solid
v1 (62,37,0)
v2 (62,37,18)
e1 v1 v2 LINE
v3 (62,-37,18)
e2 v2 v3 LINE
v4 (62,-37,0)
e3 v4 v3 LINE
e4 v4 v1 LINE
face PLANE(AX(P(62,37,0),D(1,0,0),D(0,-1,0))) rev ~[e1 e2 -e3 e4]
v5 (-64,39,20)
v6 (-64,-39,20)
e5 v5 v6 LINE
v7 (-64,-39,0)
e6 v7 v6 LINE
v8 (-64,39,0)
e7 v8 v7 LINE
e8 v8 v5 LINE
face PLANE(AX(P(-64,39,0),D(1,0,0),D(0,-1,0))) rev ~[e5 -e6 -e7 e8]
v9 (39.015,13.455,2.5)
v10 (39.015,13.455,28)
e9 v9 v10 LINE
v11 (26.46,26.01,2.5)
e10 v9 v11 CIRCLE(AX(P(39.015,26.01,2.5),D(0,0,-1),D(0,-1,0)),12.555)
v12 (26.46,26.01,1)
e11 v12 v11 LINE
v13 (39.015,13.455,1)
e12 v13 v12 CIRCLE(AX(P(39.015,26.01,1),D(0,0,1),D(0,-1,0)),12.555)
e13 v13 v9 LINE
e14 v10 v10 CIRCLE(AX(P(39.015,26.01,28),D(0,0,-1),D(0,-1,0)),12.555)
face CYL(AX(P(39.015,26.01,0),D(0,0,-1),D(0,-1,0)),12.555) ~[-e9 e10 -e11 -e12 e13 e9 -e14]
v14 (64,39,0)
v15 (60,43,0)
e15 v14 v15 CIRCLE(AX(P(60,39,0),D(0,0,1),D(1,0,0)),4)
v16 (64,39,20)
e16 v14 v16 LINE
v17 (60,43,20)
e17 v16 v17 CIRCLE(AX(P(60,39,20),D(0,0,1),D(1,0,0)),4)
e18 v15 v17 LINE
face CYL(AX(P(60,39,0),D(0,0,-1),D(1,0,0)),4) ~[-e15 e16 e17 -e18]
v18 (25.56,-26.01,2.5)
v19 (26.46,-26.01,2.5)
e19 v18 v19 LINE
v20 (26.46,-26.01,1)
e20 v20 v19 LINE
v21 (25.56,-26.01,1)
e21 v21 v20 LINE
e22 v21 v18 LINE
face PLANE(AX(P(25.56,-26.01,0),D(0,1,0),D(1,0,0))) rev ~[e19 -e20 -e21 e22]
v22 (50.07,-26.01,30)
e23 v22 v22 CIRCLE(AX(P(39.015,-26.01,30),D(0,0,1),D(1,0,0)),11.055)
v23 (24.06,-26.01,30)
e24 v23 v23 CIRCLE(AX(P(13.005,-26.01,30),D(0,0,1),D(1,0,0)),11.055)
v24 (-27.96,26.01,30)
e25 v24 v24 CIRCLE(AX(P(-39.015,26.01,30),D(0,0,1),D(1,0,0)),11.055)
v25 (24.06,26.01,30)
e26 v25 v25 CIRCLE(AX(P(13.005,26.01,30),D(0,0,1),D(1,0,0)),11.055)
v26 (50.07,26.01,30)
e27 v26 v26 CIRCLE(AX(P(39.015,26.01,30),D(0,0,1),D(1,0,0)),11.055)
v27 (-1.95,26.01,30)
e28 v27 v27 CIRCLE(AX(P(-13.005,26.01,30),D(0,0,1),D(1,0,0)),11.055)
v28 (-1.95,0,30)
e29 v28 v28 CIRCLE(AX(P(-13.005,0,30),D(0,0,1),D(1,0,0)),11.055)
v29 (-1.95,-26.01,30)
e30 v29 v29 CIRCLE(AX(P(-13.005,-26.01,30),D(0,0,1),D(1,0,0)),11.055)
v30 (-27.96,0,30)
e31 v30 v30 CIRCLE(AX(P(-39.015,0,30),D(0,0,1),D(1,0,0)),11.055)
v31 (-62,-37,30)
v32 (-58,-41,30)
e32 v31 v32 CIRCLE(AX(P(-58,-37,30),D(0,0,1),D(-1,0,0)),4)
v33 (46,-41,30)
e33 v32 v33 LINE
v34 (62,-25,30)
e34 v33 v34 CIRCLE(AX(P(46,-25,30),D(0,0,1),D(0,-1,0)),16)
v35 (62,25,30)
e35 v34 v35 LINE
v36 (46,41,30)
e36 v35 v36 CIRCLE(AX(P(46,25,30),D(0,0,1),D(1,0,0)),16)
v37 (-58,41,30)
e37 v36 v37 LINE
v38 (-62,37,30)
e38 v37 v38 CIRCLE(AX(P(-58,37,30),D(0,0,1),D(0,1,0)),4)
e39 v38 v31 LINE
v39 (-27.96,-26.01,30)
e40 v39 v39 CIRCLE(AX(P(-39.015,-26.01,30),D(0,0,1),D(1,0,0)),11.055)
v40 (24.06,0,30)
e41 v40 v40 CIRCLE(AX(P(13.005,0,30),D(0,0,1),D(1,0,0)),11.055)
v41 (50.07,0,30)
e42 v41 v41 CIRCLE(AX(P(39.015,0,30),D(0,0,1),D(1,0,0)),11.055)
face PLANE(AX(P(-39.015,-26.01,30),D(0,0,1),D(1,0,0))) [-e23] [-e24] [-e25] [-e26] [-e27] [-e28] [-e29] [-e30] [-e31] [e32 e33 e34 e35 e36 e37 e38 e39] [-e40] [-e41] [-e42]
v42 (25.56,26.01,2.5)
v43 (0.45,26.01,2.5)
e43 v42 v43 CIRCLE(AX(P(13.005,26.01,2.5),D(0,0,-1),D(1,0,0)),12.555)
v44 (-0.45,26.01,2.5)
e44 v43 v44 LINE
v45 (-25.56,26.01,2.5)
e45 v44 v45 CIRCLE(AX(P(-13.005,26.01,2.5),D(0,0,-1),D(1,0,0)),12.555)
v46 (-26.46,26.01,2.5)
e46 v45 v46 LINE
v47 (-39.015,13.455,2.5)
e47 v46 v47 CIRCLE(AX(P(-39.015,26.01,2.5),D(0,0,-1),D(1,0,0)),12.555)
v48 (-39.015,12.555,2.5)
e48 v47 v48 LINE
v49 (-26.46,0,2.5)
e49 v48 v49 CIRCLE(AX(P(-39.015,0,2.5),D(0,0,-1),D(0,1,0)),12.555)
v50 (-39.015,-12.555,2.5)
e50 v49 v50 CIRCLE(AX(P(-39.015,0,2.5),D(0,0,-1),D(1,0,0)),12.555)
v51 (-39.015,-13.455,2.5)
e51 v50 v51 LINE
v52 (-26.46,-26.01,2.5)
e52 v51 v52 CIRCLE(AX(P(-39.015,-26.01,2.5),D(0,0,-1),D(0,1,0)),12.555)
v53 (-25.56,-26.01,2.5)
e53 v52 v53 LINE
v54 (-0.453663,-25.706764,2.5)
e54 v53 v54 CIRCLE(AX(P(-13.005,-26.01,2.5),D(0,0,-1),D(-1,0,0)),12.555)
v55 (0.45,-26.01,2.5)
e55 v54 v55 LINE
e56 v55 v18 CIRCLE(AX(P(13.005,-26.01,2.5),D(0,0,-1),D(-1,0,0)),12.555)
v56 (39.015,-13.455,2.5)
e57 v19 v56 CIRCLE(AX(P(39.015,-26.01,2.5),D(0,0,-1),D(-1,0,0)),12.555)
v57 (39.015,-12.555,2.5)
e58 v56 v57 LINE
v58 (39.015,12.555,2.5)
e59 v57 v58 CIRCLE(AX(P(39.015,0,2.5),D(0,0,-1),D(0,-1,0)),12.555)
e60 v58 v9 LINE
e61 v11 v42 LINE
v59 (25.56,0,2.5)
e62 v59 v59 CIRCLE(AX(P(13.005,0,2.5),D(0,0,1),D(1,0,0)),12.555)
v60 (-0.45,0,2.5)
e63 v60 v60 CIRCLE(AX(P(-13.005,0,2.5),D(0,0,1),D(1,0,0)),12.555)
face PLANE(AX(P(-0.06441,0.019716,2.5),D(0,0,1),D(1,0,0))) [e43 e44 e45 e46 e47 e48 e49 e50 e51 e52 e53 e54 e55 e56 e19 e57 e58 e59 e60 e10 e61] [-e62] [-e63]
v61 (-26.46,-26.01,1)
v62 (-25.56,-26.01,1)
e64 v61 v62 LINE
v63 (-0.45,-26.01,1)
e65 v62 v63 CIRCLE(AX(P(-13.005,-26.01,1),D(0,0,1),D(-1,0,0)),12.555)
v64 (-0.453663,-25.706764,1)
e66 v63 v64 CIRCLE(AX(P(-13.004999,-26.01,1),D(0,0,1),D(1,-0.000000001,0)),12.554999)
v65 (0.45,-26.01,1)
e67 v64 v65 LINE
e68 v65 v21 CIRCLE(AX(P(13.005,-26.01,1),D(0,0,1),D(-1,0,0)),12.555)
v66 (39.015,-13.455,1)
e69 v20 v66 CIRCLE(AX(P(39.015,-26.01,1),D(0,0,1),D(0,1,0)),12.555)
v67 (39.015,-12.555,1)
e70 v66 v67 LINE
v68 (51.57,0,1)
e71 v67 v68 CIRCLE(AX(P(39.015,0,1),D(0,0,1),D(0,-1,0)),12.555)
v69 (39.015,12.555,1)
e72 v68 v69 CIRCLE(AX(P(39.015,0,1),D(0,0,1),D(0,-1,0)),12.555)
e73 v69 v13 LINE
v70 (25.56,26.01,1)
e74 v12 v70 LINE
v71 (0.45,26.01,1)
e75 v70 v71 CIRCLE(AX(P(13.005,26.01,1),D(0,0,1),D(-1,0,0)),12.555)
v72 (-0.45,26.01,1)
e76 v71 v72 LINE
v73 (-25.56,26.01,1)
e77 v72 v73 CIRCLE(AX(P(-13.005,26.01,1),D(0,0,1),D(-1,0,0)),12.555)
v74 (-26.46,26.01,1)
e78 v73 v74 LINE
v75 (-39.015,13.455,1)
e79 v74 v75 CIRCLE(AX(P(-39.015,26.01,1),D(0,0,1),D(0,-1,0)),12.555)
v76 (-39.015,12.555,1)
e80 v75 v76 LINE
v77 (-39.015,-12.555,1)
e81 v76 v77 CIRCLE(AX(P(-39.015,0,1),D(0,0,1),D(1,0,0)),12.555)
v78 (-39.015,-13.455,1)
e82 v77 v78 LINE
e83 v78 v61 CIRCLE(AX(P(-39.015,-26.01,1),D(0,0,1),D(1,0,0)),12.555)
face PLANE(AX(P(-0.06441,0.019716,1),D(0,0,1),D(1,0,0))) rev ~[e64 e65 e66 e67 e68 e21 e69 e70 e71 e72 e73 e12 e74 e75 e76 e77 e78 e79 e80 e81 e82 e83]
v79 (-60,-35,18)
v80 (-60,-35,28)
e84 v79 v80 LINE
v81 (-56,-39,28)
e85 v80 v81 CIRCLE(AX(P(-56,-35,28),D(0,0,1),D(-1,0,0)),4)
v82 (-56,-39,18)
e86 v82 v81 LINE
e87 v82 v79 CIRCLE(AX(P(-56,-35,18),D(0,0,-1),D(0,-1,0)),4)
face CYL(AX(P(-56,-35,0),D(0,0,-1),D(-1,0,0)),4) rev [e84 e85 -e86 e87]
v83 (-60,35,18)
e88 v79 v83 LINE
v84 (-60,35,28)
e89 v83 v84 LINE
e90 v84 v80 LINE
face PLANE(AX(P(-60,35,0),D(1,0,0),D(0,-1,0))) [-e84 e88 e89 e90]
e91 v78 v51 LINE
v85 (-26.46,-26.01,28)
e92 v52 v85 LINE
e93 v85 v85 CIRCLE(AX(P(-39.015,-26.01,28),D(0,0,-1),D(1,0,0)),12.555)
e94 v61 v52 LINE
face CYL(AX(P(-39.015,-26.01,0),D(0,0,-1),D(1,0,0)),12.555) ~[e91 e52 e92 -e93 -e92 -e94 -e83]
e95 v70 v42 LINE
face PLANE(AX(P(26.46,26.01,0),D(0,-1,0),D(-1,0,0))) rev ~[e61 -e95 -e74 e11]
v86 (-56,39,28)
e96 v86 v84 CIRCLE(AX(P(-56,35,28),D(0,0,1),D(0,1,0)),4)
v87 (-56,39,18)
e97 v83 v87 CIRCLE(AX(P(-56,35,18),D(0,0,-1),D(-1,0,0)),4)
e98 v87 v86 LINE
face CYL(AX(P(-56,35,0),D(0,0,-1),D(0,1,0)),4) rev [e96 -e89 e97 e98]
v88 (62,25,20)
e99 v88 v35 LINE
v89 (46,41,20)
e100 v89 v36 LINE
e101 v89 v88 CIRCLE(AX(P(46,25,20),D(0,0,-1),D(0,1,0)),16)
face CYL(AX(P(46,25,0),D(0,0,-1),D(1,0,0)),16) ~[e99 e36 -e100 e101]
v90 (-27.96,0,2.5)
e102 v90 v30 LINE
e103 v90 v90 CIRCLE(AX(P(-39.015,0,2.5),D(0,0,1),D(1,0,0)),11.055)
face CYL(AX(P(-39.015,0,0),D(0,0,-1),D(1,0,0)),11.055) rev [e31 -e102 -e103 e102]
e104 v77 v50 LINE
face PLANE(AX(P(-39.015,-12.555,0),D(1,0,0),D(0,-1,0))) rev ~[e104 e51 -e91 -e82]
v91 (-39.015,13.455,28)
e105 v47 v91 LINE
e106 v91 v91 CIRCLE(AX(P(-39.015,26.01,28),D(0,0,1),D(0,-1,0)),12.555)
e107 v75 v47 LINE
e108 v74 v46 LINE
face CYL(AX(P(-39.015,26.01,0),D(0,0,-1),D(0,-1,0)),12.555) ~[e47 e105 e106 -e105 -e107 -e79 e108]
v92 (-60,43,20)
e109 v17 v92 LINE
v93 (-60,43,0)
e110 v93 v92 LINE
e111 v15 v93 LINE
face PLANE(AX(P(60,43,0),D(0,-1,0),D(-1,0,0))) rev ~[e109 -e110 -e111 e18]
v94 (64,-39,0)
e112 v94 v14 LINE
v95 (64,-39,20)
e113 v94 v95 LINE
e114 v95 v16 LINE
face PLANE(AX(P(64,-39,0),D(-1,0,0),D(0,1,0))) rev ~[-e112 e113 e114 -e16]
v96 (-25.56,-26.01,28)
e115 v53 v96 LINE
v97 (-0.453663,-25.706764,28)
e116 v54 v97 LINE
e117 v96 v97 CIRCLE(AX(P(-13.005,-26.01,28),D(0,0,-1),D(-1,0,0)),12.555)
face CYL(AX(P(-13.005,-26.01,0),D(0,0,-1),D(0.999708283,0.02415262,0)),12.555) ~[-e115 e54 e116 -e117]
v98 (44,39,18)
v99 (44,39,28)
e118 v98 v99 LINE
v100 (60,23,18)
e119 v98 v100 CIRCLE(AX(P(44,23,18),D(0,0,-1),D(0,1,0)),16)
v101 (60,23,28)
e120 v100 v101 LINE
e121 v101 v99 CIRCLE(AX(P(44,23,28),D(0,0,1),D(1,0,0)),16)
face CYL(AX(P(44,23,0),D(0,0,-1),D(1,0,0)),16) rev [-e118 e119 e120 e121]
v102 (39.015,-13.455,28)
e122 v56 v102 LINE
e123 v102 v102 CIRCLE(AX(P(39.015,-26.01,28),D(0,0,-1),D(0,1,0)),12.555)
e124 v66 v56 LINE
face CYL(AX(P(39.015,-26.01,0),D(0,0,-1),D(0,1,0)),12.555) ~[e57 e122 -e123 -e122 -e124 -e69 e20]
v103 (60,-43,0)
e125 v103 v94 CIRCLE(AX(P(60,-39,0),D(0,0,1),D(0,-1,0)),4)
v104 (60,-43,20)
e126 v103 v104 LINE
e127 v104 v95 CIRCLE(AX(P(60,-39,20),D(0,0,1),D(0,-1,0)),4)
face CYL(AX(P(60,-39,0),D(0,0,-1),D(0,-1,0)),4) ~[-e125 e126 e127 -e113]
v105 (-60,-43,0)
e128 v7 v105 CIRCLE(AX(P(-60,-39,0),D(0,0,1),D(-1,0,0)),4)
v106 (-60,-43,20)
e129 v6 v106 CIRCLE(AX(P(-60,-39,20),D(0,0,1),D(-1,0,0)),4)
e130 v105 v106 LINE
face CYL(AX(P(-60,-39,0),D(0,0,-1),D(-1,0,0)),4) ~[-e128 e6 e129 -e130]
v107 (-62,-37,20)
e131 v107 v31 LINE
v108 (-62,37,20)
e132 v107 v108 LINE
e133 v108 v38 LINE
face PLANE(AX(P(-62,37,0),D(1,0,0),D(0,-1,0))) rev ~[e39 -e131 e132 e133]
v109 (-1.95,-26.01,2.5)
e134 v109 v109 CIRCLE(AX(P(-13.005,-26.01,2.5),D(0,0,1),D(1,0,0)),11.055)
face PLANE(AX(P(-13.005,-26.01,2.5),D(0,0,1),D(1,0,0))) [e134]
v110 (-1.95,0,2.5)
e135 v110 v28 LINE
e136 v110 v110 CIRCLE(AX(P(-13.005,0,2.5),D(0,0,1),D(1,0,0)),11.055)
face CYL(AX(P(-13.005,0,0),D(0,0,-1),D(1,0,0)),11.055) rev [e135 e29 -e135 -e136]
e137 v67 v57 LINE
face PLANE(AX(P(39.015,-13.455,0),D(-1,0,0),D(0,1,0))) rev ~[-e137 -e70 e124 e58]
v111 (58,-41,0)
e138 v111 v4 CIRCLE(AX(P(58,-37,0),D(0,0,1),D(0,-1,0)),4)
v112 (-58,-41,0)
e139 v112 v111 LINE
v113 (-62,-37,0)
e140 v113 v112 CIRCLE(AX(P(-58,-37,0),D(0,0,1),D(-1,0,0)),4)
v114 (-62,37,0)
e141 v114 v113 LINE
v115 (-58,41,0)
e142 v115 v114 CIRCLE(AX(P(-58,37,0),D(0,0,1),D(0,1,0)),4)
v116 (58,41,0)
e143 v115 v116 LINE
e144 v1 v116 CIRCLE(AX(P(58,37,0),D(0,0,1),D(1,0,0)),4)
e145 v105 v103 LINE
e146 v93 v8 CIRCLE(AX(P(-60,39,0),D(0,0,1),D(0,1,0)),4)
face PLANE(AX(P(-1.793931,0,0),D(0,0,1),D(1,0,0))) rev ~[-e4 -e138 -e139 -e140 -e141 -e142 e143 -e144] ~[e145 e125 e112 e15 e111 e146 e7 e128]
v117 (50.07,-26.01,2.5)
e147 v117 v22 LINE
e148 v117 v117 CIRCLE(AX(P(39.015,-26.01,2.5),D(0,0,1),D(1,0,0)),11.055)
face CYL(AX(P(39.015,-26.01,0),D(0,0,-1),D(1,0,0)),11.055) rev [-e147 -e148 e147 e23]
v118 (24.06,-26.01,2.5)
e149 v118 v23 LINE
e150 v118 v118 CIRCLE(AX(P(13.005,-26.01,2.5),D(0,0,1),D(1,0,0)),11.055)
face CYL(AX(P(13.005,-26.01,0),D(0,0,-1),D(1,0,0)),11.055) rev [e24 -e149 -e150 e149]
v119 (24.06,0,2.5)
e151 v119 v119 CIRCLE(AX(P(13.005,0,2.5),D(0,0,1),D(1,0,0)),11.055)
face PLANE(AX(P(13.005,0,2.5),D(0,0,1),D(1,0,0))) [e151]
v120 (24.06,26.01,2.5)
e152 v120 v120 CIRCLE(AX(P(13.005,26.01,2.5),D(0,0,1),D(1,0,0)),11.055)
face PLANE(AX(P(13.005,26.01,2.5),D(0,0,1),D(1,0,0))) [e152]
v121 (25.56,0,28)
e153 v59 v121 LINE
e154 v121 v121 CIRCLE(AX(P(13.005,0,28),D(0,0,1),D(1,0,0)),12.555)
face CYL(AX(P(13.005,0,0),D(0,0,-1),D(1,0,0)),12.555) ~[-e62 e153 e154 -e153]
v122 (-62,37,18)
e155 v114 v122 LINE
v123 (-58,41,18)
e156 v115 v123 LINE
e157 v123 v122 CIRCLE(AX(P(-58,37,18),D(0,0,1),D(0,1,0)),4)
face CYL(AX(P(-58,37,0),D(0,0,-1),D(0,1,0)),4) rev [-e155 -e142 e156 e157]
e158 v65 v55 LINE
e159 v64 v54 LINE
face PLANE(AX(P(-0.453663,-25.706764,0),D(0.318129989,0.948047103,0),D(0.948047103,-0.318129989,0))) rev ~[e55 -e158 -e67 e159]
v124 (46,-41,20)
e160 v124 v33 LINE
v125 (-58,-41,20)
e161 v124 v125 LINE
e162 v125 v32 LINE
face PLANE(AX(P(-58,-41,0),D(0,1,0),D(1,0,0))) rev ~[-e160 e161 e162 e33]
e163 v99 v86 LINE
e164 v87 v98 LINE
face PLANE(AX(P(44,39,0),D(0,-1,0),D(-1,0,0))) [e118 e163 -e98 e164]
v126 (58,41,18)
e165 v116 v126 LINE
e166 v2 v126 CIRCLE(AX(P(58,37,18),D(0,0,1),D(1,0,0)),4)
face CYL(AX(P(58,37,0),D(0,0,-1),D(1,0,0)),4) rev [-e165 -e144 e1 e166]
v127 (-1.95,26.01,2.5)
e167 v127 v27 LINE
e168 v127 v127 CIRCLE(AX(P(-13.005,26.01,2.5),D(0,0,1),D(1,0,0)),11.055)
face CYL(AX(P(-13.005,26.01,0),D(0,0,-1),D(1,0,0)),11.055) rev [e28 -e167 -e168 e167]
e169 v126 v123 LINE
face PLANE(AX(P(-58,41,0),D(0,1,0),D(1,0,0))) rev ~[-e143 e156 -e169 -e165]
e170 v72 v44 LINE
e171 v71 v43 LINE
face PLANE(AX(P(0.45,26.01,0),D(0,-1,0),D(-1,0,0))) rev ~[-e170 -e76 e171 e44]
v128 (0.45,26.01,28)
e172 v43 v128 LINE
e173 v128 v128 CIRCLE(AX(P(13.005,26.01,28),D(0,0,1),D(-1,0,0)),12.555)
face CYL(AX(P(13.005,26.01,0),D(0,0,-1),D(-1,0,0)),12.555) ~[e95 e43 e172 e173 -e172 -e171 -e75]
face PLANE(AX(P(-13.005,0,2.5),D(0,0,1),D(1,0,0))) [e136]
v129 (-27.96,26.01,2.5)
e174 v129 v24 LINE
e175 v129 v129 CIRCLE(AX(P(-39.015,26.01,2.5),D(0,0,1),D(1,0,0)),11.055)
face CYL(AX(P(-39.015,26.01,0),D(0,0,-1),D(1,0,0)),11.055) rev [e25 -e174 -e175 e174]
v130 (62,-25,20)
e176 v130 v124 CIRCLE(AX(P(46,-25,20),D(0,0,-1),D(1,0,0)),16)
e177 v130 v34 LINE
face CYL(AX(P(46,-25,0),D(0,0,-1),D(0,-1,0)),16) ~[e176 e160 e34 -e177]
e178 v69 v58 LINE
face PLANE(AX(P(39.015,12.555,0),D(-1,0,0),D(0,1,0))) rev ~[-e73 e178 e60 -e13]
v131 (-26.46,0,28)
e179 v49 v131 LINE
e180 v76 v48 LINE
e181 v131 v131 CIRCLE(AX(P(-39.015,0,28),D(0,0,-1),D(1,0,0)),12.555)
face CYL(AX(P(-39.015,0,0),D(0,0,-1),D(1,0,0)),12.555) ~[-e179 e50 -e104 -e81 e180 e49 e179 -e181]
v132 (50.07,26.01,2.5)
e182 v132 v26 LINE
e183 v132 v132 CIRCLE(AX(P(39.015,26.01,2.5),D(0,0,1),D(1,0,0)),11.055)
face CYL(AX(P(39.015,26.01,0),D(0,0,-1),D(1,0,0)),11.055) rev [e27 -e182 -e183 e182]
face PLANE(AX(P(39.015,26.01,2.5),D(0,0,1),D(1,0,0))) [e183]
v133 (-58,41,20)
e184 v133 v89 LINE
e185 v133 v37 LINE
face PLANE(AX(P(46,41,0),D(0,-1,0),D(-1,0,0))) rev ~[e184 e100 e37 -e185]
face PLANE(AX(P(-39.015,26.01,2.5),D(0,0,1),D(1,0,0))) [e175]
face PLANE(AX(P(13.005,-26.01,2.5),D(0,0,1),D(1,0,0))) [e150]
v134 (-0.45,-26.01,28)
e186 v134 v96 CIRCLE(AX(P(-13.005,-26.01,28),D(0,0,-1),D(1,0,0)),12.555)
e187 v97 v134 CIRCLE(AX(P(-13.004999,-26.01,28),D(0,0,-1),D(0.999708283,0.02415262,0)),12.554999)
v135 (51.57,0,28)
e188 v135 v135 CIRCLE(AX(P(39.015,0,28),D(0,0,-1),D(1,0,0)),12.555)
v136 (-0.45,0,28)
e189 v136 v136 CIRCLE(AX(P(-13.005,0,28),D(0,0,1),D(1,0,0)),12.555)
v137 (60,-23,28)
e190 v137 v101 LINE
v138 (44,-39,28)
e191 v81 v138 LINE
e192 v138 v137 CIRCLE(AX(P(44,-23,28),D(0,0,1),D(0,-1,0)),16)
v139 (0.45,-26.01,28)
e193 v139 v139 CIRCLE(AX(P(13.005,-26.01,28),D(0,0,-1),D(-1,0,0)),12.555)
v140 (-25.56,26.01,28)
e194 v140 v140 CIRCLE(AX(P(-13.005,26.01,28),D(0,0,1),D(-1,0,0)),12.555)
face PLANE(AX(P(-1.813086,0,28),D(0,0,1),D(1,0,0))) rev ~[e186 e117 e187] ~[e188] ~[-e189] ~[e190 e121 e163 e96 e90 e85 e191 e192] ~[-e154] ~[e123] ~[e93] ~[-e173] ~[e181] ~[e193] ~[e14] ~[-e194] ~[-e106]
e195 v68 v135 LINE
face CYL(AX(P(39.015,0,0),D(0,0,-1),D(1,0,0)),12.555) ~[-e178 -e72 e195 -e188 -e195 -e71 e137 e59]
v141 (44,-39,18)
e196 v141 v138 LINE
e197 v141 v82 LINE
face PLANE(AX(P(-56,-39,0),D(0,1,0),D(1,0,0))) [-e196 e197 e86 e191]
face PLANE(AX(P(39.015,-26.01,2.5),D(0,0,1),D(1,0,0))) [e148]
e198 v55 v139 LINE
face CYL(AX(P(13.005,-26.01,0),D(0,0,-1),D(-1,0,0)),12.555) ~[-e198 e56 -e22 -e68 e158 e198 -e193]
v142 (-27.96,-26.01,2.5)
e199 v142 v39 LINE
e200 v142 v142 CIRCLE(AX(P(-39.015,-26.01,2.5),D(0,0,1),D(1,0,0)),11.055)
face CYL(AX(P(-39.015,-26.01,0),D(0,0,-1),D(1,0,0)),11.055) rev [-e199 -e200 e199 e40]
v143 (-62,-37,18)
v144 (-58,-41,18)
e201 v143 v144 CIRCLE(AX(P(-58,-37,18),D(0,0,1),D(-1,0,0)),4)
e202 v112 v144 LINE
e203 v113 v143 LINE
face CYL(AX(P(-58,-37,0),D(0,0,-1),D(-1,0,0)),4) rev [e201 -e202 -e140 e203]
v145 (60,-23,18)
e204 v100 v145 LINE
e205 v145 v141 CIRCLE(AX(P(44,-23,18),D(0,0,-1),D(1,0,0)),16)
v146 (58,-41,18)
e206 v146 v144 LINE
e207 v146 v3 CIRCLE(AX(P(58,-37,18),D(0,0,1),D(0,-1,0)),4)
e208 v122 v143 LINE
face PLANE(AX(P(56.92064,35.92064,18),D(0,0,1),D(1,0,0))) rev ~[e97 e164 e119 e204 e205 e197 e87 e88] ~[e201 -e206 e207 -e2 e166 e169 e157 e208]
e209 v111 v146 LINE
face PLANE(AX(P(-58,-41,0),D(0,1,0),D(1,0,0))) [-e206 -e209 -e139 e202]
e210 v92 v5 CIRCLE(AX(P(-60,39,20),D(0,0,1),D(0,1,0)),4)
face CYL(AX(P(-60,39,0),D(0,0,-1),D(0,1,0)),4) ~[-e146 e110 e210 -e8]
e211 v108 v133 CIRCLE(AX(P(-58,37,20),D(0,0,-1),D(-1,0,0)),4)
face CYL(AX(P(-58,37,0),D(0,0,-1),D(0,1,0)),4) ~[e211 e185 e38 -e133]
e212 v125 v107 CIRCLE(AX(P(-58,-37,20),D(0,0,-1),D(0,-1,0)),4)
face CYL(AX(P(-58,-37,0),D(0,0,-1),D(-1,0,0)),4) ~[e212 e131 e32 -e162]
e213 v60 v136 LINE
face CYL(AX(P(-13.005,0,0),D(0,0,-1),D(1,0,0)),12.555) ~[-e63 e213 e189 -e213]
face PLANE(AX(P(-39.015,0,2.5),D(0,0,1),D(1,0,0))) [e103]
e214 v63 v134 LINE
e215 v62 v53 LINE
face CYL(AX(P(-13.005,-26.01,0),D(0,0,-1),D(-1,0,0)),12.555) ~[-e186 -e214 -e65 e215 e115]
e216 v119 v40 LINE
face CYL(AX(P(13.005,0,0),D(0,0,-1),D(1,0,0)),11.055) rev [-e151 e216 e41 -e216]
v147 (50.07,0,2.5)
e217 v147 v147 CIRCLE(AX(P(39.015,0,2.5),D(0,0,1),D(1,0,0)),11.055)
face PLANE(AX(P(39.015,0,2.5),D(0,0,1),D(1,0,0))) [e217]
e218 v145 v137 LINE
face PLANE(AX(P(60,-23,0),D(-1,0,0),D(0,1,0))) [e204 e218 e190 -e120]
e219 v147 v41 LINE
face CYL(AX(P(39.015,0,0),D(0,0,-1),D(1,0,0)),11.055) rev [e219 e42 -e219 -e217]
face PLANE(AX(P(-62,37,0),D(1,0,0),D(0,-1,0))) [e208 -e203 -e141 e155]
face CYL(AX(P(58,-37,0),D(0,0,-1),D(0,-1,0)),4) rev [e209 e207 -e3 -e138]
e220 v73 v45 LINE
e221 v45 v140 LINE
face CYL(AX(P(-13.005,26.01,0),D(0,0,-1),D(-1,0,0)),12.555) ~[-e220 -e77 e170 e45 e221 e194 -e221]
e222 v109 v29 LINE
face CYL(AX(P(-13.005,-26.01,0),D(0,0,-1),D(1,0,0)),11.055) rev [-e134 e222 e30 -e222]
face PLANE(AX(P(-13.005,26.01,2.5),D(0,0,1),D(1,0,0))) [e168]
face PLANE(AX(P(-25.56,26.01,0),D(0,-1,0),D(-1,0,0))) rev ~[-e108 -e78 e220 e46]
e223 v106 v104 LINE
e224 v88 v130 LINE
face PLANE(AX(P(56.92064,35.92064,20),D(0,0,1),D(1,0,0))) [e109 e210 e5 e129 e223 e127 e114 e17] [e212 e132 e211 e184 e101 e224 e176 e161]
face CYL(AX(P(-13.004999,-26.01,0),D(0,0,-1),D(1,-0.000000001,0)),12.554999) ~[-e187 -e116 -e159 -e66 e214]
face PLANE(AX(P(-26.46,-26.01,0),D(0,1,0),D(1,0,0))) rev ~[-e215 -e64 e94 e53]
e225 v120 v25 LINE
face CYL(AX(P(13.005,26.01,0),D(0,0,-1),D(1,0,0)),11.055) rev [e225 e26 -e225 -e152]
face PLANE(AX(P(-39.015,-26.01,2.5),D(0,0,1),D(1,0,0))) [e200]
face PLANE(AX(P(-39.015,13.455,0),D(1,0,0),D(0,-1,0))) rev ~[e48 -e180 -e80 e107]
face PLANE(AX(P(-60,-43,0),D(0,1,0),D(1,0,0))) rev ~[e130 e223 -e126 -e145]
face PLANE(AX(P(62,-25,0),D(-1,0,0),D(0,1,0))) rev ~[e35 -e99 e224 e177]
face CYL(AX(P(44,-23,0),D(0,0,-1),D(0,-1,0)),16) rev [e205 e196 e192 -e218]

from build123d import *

# Parameters (mm, degrees)
F1_DEPTH = 20
F2_DEPTH = 20
F3_DEPTH = 18
F0_R     = 12.555
F4_DEPTH = 30
F5_DEPTH = 18
F6_DEPTH = 28
F0_R_2   = 11.055
F7_DEPTH = 30
F8_DEPTH = 2.5
F9_DEPTH = 1


with BuildPart() as f1:
    # F0 (on Top) → F1 (new body)
    with BuildSketch(Plane.XY):
        with BuildLine():
            ThreePointArc((64, 39), (62.8284271247, 41.8284271247), (60, 43))
            Line((60, 43), (-60, 43))
            ThreePointArc((-60, 43), (-62.8284271247, 41.8284271247), (-64, 39))
            Line((-64, 39), (-64, -39))
            ThreePointArc((-64, -39), (-62.8284271247, -41.8284271247), (-60, -43))
            Line((-60, -43), (60, -43))
            ThreePointArc((60, -43), (62.8284271247, -41.8284271247), (64, -39))
            Line((64, -39), (64, 39))
        make_face()
        with BuildLine():
            Line((-58, 41), (46, 41))
            Line((46, 41), (58, 41))
            ThreePointArc((58, 41), (60.8284271247, 39.8284271247), (62, 37))
            Line((62, 37), (62, 25))
            Line((62, 25), (62, -25))
            Line((62, -25), (62, -37))
            ThreePointArc((62, -37), (60.8284271247, -39.8284271247), (58, -41))
            Line((58, -41), (46, -41))
            Line((46, -41), (-58, -41))
            ThreePointArc((-58, -41), (-60.8284271247, -39.8284271247), (-62, -37))
            Line((-62, -37), (-62, 37))
            ThreePointArc((-62, 37), (-60.8284271247, 39.8284271247), (-58, 41))
        make_face(mode=Mode.SUBTRACT)
    extrude(amount=F1_DEPTH)

    # F0 (on Top) → F2 (join)
    with BuildSketch(Plane.XY):
        with BuildLine():
            Line((58, 41), (46, 41))
            ThreePointArc((46, 41), (57.313708499, 36.313708499), (62, 25))
            Line((62, 25), (62, 37))
            ThreePointArc((62, 37), (60.8284271247, 39.8284271247), (58, 41))
        make_face()
        with BuildLine():
            Line((62, -37), (62, -25))
            ThreePointArc((62, -25), (57.313708499, -36.313708499), (46, -41))
            Line((46, -41), (58, -41))
            ThreePointArc((58, -41), (60.8284271247, -39.8284271247), (62, -37))
        make_face()
    extrude(amount=F2_DEPTH)

    # F0 (on Top) → F3 (cut)
    with BuildSketch(Plane.XY):
        with BuildLine():
            Line((58, 41), (46, 41))
            ThreePointArc((46, 41), (57.313708499, 36.313708499), (62, 25))
            Line((62, 25), (62, 37))
            ThreePointArc((62, 37), (60.8284271247, 39.8284271247), (58, 41))
        make_face()
        with BuildLine():
            Line((62, -37), (62, -25))
            ThreePointArc((62, -25), (57.313708499, -36.313708499), (46, -41))
            Line((46, -41), (58, -41))
            ThreePointArc((58, -41), (60.8284271247, -39.8284271247), (62, -37))
        make_face()
    extrude(amount=F3_DEPTH, mode=Mode.SUBTRACT)

    # F0 (on Top) → F4 (join)
    with BuildSketch(Plane.XY):
        with BuildLine():
            ThreePointArc((62, 25), (57.313708499, 36.313708499), (46, 41))
            Line((46, 41), (-58, 41))
            ThreePointArc((-58, 41), (-60.8284271247, 39.8284271247), (-62, 37))
            Line((-62, 37), (-62, -37))
            ThreePointArc((-62, -37), (-60.8284271247, -39.8284271247), (-58, -41))
            Line((-58, -41), (46, -41))
            ThreePointArc((46, -41), (57.313708499, -36.313708499), (62, -25))
            Line((62, -25), (62, 25))
        make_face()
        with BuildLine():
            Line((44, -39), (-56, -39))
            ThreePointArc((-56, -39), (-58.8284271247, -37.8284271247), (-60, -35))
            Line((-60, -35), (-60, 35))
            ThreePointArc((-60, 35), (-58.8284271247, 37.8284271247), (-56, 39))
            Line((-56, 39), (44, 39))
            ThreePointArc((44, 39), (55.313708499, 34.313708499), (60, 23))
            Line((60, 23), (60, -23))
            ThreePointArc((60, -23), (55.313708499, -34.313708499), (44, -39))
        make_face(mode=Mode.SUBTRACT)
        with BuildLine():
            ThreePointArc((-60, -35), (-58.8284271247, -37.8284271247), (-56, -39))
            Line((-56, -39), (44, -39))
            ThreePointArc((44, -39), (55.313708499, -34.313708499), (60, -23))
            Line((60, -23), (60, 23))
            ThreePointArc((60, 23), (55.313708499, 34.313708499), (44, 39))
            Line((44, 39), (-56, 39))
            ThreePointArc((-56, 39), (-58.8284271247, 37.8284271247), (-60, 35))
            Line((-60, 35), (-60, -35))
        make_face()
        with BuildLine():
            Line((-25.56, -26.01), (-26.46, -26.01))
            ThreePointArc((-26.46, -26.01), (-47.8927256378, -34.8877256378), (-39.015, -13.455))
            Line((-39.015, -13.455), (-39.015, -12.555))
            ThreePointArc((-39.015, -12.555), (-51.57, 0), (-39.015, 12.555))
            Line((-39.015, 12.555), (-39.015, 13.455))
            ThreePointArc((-39.015, 13.455), (-47.8927256378, 34.8877256378), (-26.46, 26.01))
            Line((-26.46, 26.01), (-25.56, 26.01))
            ThreePointArc((-25.56, 26.01), (-13.005, 38.565), (-0.45, 26.01))
            Line((-0.45, 26.01), (0.45, 26.01))
            ThreePointArc((0.45, 26.01), (13.005, 38.565), (25.56, 26.01))
            Line((25.56, 26.01), (26.46, 26.01))
            ThreePointArc((26.46, 26.01), (39.015, 38.565), (51.57, 26.01))
            ThreePointArc((51.57, 26.01), (47.8927256378, 17.1322743622), (39.015, 13.455))
            Line((39.015, 13.455), (39.015, 12.555))
            ThreePointArc((39.015, 12.555), (47.8927256378, 8.8777256378), (51.57, 0))
            ThreePointArc((51.57, 0), (47.8927256378, -8.8777256378), (39.015, -12.555))
            Line((39.015, -12.555), (39.015, -13.455))
            ThreePointArc((39.015, -13.455), (47.8927256378, -17.1322743622), (51.57, -26.01))
            ThreePointArc((51.57, -26.01), (39.015, -38.565), (26.46, -26.01))
            Line((26.46, -26.01), (25.56, -26.01))
            ThreePointArc((25.56, -26.01), (13.005, -38.565), (0.45, -26.01))
            Line((0.45, -26.01), (-0.4536625078, -25.7067638609))
            ThreePointArc((-0.4536625078, -25.7067638609), (-0.4509156603, -25.8583708719), (-0.45, -26.01))
            ThreePointArc((-0.45, -26.01), (-13.005, -38.565), (-25.56, -26.01))
        make_face(mode=Mode.SUBTRACT)
        with BuildLine():
            ThreePointArc((-39.015, -13.455), (-30.1372743622, -17.1322743622), (-26.46, -26.01))
            Line((-26.46, -26.01), (-25.56, -26.01))
            ThreePointArc((-25.56, -26.01), (-13.1566291281, -13.4559156603), (-0.4536625078, -25.7067638609))
            Line((-0.4536625078, -25.7067638609), (0.45, -26.01))
            ThreePointArc((0.45, -26.01), (13.005, -13.455), (25.56, -26.01))
            Line((25.56, -26.01), (26.46, -26.01))
            ThreePointArc((26.46, -26.01), (30.1372743622, -17.1322743622), (39.015, -13.455))
            Line((39.015, -13.455), (39.015, -12.555))
            ThreePointArc((39.015, -12.555), (26.46, 0), (39.015, 12.555))
            Line((39.015, 12.555), (39.015, 13.455))
            ThreePointArc((39.015, 13.455), (30.1372743622, 17.1322743622), (26.46, 26.01))
            Line((26.46, 26.01), (25.56, 26.01))
            ThreePointArc((25.56, 26.01), (13.005, 13.455), (0.45, 26.01))
            Line((0.45, 26.01), (-0.45, 26.01))
            ThreePointArc((-0.45, 26.01), (-13.005, 13.455), (-25.56, 26.01))
            Line((-25.56, 26.01), (-26.46, 26.01))
            ThreePointArc((-26.46, 26.01), (-30.1372743622, 17.1322743622), (-39.015, 13.455))
            Line((-39.015, 13.455), (-39.015, 12.555))
            ThreePointArc((-39.015, 12.555), (-30.1372743622, 8.8777256378), (-26.46, 0))
            ThreePointArc((-26.46, 0), (-30.1372743622, -8.8777256378), (-39.015, -12.555))
            Line((-39.015, -12.555), (-39.015, -13.455))
        make_face()
        with Locations((-13.005, 0)):
            Circle(F0_R, mode=Mode.SUBTRACT)
        with Locations((13.005, 0)):
            Circle(F0_R, mode=Mode.SUBTRACT)
    extrude(amount=F4_DEPTH)

    # F0 (on Top) → F5 (cut)
    with BuildSketch(Plane.XY):
        with BuildLine():
            ThreePointArc((62, 25), (57.313708499, 36.313708499), (46, 41))
            Line((46, 41), (-58, 41))
            ThreePointArc((-58, 41), (-60.8284271247, 39.8284271247), (-62, 37))
            Line((-62, 37), (-62, -37))
            ThreePointArc((-62, -37), (-60.8284271247, -39.8284271247), (-58, -41))
            Line((-58, -41), (46, -41))
            ThreePointArc((46, -41), (57.313708499, -36.313708499), (62, -25))
            Line((62, -25), (62, 25))
        make_face()
        with BuildLine():
            Line((44, -39), (-56, -39))
            ThreePointArc((-56, -39), (-58.8284271247, -37.8284271247), (-60, -35))
            Line((-60, -35), (-60, 35))
            ThreePointArc((-60, 35), (-58.8284271247, 37.8284271247), (-56, 39))
            Line((-56, 39), (44, 39))
            ThreePointArc((44, 39), (55.313708499, 34.313708499), (60, 23))
            Line((60, 23), (60, -23))
            ThreePointArc((60, -23), (55.313708499, -34.313708499), (44, -39))
        make_face(mode=Mode.SUBTRACT)
    extrude(amount=F5_DEPTH, mode=Mode.SUBTRACT)

    # F0 (on Top) → F6 (cut)
    with BuildSketch(Plane.XY):
        with BuildLine():
            ThreePointArc((-60, -35), (-58.8284271247, -37.8284271247), (-56, -39))
            Line((-56, -39), (44, -39))
            ThreePointArc((44, -39), (55.313708499, -34.313708499), (60, -23))
            Line((60, -23), (60, 23))
            ThreePointArc((60, 23), (55.313708499, 34.313708499), (44, 39))
            Line((44, 39), (-56, 39))
            ThreePointArc((-56, 39), (-58.8284271247, 37.8284271247), (-60, 35))
            Line((-60, 35), (-60, -35))
        make_face()
        with BuildLine():
            Line((-25.56, -26.01), (-26.46, -26.01))
            ThreePointArc((-26.46, -26.01), (-47.8927256378, -34.8877256378), (-39.015, -13.455))
            Line((-39.015, -13.455), (-39.015, -12.555))
            ThreePointArc((-39.015, -12.555), (-51.57, 0), (-39.015, 12.555))
            Line((-39.015, 12.555), (-39.015, 13.455))
            ThreePointArc((-39.015, 13.455), (-47.8927256378, 34.8877256378), (-26.46, 26.01))
            Line((-26.46, 26.01), (-25.56, 26.01))
            ThreePointArc((-25.56, 26.01), (-13.005, 38.565), (-0.45, 26.01))
            Line((-0.45, 26.01), (0.45, 26.01))
            ThreePointArc((0.45, 26.01), (13.005, 38.565), (25.56, 26.01))
            Line((25.56, 26.01), (26.46, 26.01))
            ThreePointArc((26.46, 26.01), (39.015, 38.565), (51.57, 26.01))
            ThreePointArc((51.57, 26.01), (47.8927256378, 17.1322743622), (39.015, 13.455))
            Line((39.015, 13.455), (39.015, 12.555))
            ThreePointArc((39.015, 12.555), (47.8927256378, 8.8777256378), (51.57, 0))
            ThreePointArc((51.57, 0), (47.8927256378, -8.8777256378), (39.015, -12.555))
            Line((39.015, -12.555), (39.015, -13.455))
            ThreePointArc((39.015, -13.455), (47.8927256378, -17.1322743622), (51.57, -26.01))
            ThreePointArc((51.57, -26.01), (39.015, -38.565), (26.46, -26.01))
            Line((26.46, -26.01), (25.56, -26.01))
            ThreePointArc((25.56, -26.01), (13.005, -38.565), (0.45, -26.01))
            Line((0.45, -26.01), (-0.4536625078, -25.7067638609))
            ThreePointArc((-0.4536625078, -25.7067638609), (-0.4509156603, -25.8583708719), (-0.45, -26.01))
            ThreePointArc((-0.45, -26.01), (-13.005, -38.565), (-25.56, -26.01))
        make_face(mode=Mode.SUBTRACT)
        with BuildLine():
            ThreePointArc((-39.015, -13.455), (-30.1372743622, -17.1322743622), (-26.46, -26.01))
            Line((-26.46, -26.01), (-25.56, -26.01))
            ThreePointArc((-25.56, -26.01), (-13.1566291281, -13.4559156603), (-0.4536625078, -25.7067638609))
            Line((-0.4536625078, -25.7067638609), (0.45, -26.01))
            ThreePointArc((0.45, -26.01), (13.005, -13.455), (25.56, -26.01))
            Line((25.56, -26.01), (26.46, -26.01))
            ThreePointArc((26.46, -26.01), (30.1372743622, -17.1322743622), (39.015, -13.455))
            Line((39.015, -13.455), (39.015, -12.555))
            ThreePointArc((39.015, -12.555), (26.46, 0), (39.015, 12.555))
            Line((39.015, 12.555), (39.015, 13.455))
            ThreePointArc((39.015, 13.455), (30.1372743622, 17.1322743622), (26.46, 26.01))
            Line((26.46, 26.01), (25.56, 26.01))
            ThreePointArc((25.56, 26.01), (13.005, 13.455), (0.45, 26.01))
            Line((0.45, 26.01), (-0.45, 26.01))
            ThreePointArc((-0.45, 26.01), (-13.005, 13.455), (-25.56, 26.01))
            Line((-25.56, 26.01), (-26.46, 26.01))
            ThreePointArc((-26.46, 26.01), (-30.1372743622, 17.1322743622), (-39.015, 13.455))
            Line((-39.015, 13.455), (-39.015, 12.555))
            ThreePointArc((-39.015, 12.555), (-30.1372743622, 8.8777256378), (-26.46, 0))
            ThreePointArc((-26.46, 0), (-30.1372743622, -8.8777256378), (-39.015, -12.555))
            Line((-39.015, -12.555), (-39.015, -13.455))
        make_face()
        with Locations((-13.005, 0)):
            Circle(F0_R, mode=Mode.SUBTRACT)
        with Locations((13.005, 0)):
            Circle(F0_R, mode=Mode.SUBTRACT)
    extrude(amount=F6_DEPTH, mode=Mode.SUBTRACT)

    # F0 (on Top) → F7 (join)
    with BuildSketch(Plane.XY):
        with BuildLine():
            ThreePointArc((-39.015, -13.455), (-47.8927256378, -34.8877256378), (-26.46, -26.01))
            ThreePointArc((-26.46, -26.01), (-30.1372743622, -17.1322743622), (-39.015, -13.455))
        make_face()
        with Locations((-39.015, -26.01)):
            Circle(F0_R_2, mode=Mode.SUBTRACT)
        with BuildLine():
            ThreePointArc((-0.4536625078, -25.7067638609), (-13.1566291281, -13.4559156603), (-25.56, -26.01))
            ThreePointArc((-25.56, -26.01), (-13.005, -38.565), (-0.45, -26.01))
            ThreePointArc((-0.45, -26.01), (-0.4509156603, -25.8583708719), (-0.4536625078, -25.7067638609))
        make_face()
        with Locations((-13.005, -26.01)):
            Circle(F0_R_2, mode=Mode.SUBTRACT)
        with BuildLine():
            ThreePointArc((-39.015, 12.555), (-51.57, 0), (-39.015, -12.555))
            ThreePointArc((-39.015, -12.555), (-30.1372743622, -8.8777256378), (-26.46, 0))
            ThreePointArc((-26.46, 0), (-30.1372743622, 8.8777256378), (-39.015, 12.555))
        make_face()
        with Locations((-39.015, 0)):
            Circle(F0_R_2, mode=Mode.SUBTRACT)
        with Locations((-13.005, 0)):
            Circle(F0_R)
        with Locations((-13.005, 0)):
            Circle(F0_R_2, mode=Mode.SUBTRACT)
        with Locations((13.005, 0)):
            Circle(F0_R)
        with Locations((13.005, 0)):
            Circle(F0_R_2, mode=Mode.SUBTRACT)
        with BuildLine():
            ThreePointArc((25.56, -26.01), (13.005, -13.455), (0.45, -26.01))
            ThreePointArc((0.45, -26.01), (13.005, -38.565), (25.56, -26.01))
        make_face()
        with Locations((13.005, -26.01)):
            Circle(F0_R_2, mode=Mode.SUBTRACT)
        with BuildLine():
            ThreePointArc((39.015, -13.455), (30.1372743622, -17.1322743622), (26.46, -26.01))
            ThreePointArc((26.46, -26.01), (39.015, -38.565), (51.57, -26.01))
            ThreePointArc((51.57, -26.01), (47.8927256378, -17.1322743622), (39.015, -13.455))
        make_face()
        with Locations((39.015, -26.01)):
            Circle(F0_R_2, mode=Mode.SUBTRACT)
        with BuildLine():
            ThreePointArc((39.015, 12.555), (26.46, 0), (39.015, -12.555))
            ThreePointArc((39.015, -12.555), (47.8927256378, -8.8777256378), (51.57, 0))
            ThreePointArc((51.57, 0), (47.8927256378, 8.8777256378), (39.015, 12.555))
        make_face()
        with Locations((39.015, 0)):
            Circle(F0_R_2, mode=Mode.SUBTRACT)
        with BuildLine():
            ThreePointArc((26.46, 26.01), (30.1372743622, 17.1322743622), (39.015, 13.455))
            ThreePointArc((39.015, 13.455), (47.8927256378, 17.1322743622), (51.57, 26.01))
            ThreePointArc((51.57, 26.01), (39.015, 38.565), (26.46, 26.01))
        make_face()
        with Locations((39.015, 26.01)):
            Circle(F0_R_2, mode=Mode.SUBTRACT)
        with BuildLine():
            ThreePointArc((25.56, 26.01), (13.005, 38.565), (0.45, 26.01))
            ThreePointArc((0.45, 26.01), (13.005, 13.455), (25.56, 26.01))
        make_face()
        with Locations((13.005, 26.01)):
            Circle(F0_R_2, mode=Mode.SUBTRACT)
        with BuildLine():
            ThreePointArc((-0.45, 26.01), (-13.005, 38.565), (-25.56, 26.01))
            ThreePointArc((-25.56, 26.01), (-13.005, 13.455), (-0.45, 26.01))
        make_face()
        with Locations((-13.005, 26.01)):
            Circle(F0_R_2, mode=Mode.SUBTRACT)
        with BuildLine():
            ThreePointArc((-26.46, 26.01), (-47.8927256378, 34.8877256378), (-39.015, 13.455))
            ThreePointArc((-39.015, 13.455), (-30.1372743622, 17.1322743622), (-26.46, 26.01))
        make_face()
        with Locations((-39.015, 26.01)):
            Circle(F0_R_2, mode=Mode.SUBTRACT)
    extrude(amount=F7_DEPTH)

    # F0 (on Top) → F8 (join)
    with BuildSketch(Plane.XY):
        with Locations((-39.015, -26.01)):
            Circle(F0_R_2)
        with BuildLine():
            ThreePointArc((-39.015, -13.455), (-30.1372743622, -17.1322743622), (-26.46, -26.01))
            Line((-26.46, -26.01), (-25.56, -26.01))
            ThreePointArc((-25.56, -26.01), (-13.1566291281, -13.4559156603), (-0.4536625078, -25.7067638609))
            Line((-0.4536625078, -25.7067638609), (0.45, -26.01))
            ThreePointArc((0.45, -26.01), (13.005, -13.455), (25.56, -26.01))
            Line((25.56, -26.01), (26.46, -26.01))
            ThreePointArc((26.46, -26.01), (30.1372743622, -17.1322743622), (39.015, -13.455))
            Line((39.015, -13.455), (39.015, -12.555))
            ThreePointArc((39.015, -12.555), (26.46, 0), (39.015, 12.555))
            Line((39.015, 12.555), (39.015, 13.455))
            ThreePointArc((39.015, 13.455), (30.1372743622, 17.1322743622), (26.46, 26.01))
            Line((26.46, 26.01), (25.56, 26.01))
            ThreePointArc((25.56, 26.01), (13.005, 13.455), (0.45, 26.01))
            Line((0.45, 26.01), (-0.45, 26.01))
            ThreePointArc((-0.45, 26.01), (-13.005, 13.455), (-25.56, 26.01))
            Line((-25.56, 26.01), (-26.46, 26.01))
            ThreePointArc((-26.46, 26.01), (-30.1372743622, 17.1322743622), (-39.015, 13.455))
            Line((-39.015, 13.455), (-39.015, 12.555))
            ThreePointArc((-39.015, 12.555), (-30.1372743622, 8.8777256378), (-26.46, 0))
            ThreePointArc((-26.46, 0), (-30.1372743622, -8.8777256378), (-39.015, -12.555))
            Line((-39.015, -12.555), (-39.015, -13.455))
        make_face()
        with Locations((-13.005, 0)):
            Circle(F0_R, mode=Mode.SUBTRACT)
        with Locations((13.005, 0)):
            Circle(F0_R, mode=Mode.SUBTRACT)
        with Locations((-13.005, -26.01)):
            Circle(F0_R_2)
        with Locations((13.005, -26.01)):
            Circle(F0_R_2)
        with Locations((39.015, -26.01)):
            Circle(F0_R_2)
        with Locations((39.015, 0)):
            Circle(F0_R_2)
        with Locations((13.005, 0)):
            Circle(F0_R_2)
        with Locations((-13.005, 0)):
            Circle(F0_R_2)
        with Locations((-39.015, 0)):
            Circle(F0_R_2)
        with Locations((-39.015, 26.01)):
            Circle(F0_R_2)
        with Locations((-13.005, 26.01)):
            Circle(F0_R_2)
        with Locations((13.005, 26.01)):
            Circle(F0_R_2)
        with Locations((39.015, 26.01)):
            Circle(F0_R_2)
    extrude(amount=F8_DEPTH)

    # F0 (on Top) → F9 (cut)
    with BuildSketch(Plane.XY):
        with BuildLine():
            ThreePointArc((-39.015, -13.455), (-30.1372743622, -17.1322743622), (-26.46, -26.01))
            Line((-26.46, -26.01), (-25.56, -26.01))
            ThreePointArc((-25.56, -26.01), (-13.1566291281, -13.4559156603), (-0.4536625078, -25.7067638609))
            Line((-0.4536625078, -25.7067638609), (0.45, -26.01))
            ThreePointArc((0.45, -26.01), (13.005, -13.455), (25.56, -26.01))
            Line((25.56, -26.01), (26.46, -26.01))
            ThreePointArc((26.46, -26.01), (30.1372743622, -17.1322743622), (39.015, -13.455))
            Line((39.015, -13.455), (39.015, -12.555))
            ThreePointArc((39.015, -12.555), (26.46, 0), (39.015, 12.555))
            Line((39.015, 12.555), (39.015, 13.455))
            ThreePointArc((39.015, 13.455), (30.1372743622, 17.1322743622), (26.46, 26.01))
            Line((26.46, 26.01), (25.56, 26.01))
            ThreePointArc((25.56, 26.01), (13.005, 13.455), (0.45, 26.01))
            Line((0.45, 26.01), (-0.45, 26.01))
            ThreePointArc((-0.45, 26.01), (-13.005, 13.455), (-25.56, 26.01))
            Line((-25.56, 26.01), (-26.46, 26.01))
            ThreePointArc((-26.46, 26.01), (-30.1372743622, 17.1322743622), (-39.015, 13.455))
            Line((-39.015, 13.455), (-39.015, 12.555))
            ThreePointArc((-39.015, 12.555), (-30.1372743622, 8.8777256378), (-26.46, 0))
            ThreePointArc((-26.46, 0), (-30.1372743622, -8.8777256378), (-39.015, -12.555))
            Line((-39.015, -12.555), (-39.015, -13.455))
        make_face()
        with Locations((-13.005, 0)):
            Circle(F0_R, mode=Mode.SUBTRACT)
        with Locations((13.005, 0)):
            Circle(F0_R, mode=Mode.SUBTRACT)
        with BuildLine():
            ThreePointArc((-39.015, -13.455), (-47.8927256378, -34.8877256378), (-26.46, -26.01))
            ThreePointArc((-26.46, -26.01), (-30.1372743622, -17.1322743622), (-39.015, -13.455))
        make_face()
        with Locations((-39.015, -26.01)):
            Circle(F0_R_2, mode=Mode.SUBTRACT)
        with BuildLine():
            ThreePointArc((-0.4536625078, -25.7067638609), (-13.1566291281, -13.4559156603), (-25.56, -26.01))
            ThreePointArc((-25.56, -26.01), (-13.005, -38.565), (-0.45, -26.01))
            ThreePointArc((-0.45, -26.01), (-0.4509156603, -25.8583708719), (-0.4536625078, -25.7067638609))
        make_face()
        with Locations((-13.005, -26.01)):
            Circle(F0_R_2, mode=Mode.SUBTRACT)
        with BuildLine():
            ThreePointArc((25.56, -26.01), (13.005, -13.455), (0.45, -26.01))
            ThreePointArc((0.45, -26.01), (13.005, -38.565), (25.56, -26.01))
        make_face()
        with Locations((13.005, -26.01)):
            Circle(F0_R_2, mode=Mode.SUBTRACT)
        with BuildLine():
            ThreePointArc((39.015, -13.455), (30.1372743622, -17.1322743622), (26.46, -26.01))
            ThreePointArc((26.46, -26.01), (39.015, -38.565), (51.57, -26.01))
            ThreePointArc((51.57, -26.01), (47.8927256378, -17.1322743622), (39.015, -13.455))
        make_face()
        with Locations((39.015, -26.01)):
            Circle(F0_R_2, mode=Mode.SUBTRACT)
        with BuildLine():
            ThreePointArc((39.015, 12.555), (26.46, 0), (39.015, -12.555))
            ThreePointArc((39.015, -12.555), (47.8927256378, -8.8777256378), (51.57, 0))
            ThreePointArc((51.57, 0), (47.8927256378, 8.8777256378), (39.015, 12.555))
        make_face()
        with Locations((39.015, 0)):
            Circle(F0_R_2, mode=Mode.SUBTRACT)
        with BuildLine():
            ThreePointArc((26.46, 26.01), (30.1372743622, 17.1322743622), (39.015, 13.455))
            ThreePointArc((39.015, 13.455), (47.8927256378, 17.1322743622), (51.57, 26.01))
            ThreePointArc((51.57, 26.01), (39.015, 38.565), (26.46, 26.01))
        make_face()
        with Locations((39.015, 26.01)):
            Circle(F0_R_2, mode=Mode.SUBTRACT)
        with BuildLine():
            ThreePointArc((25.56, 26.01), (13.005, 38.565), (0.45, 26.01))
            ThreePointArc((0.45, 26.01), (13.005, 13.455), (25.56, 26.01))
        make_face()
        with Locations((13.005, 26.01)):
            Circle(F0_R_2, mode=Mode.SUBTRACT)
        with BuildLine():
            ThreePointArc((-0.45, 26.01), (-13.005, 38.565), (-25.56, 26.01))
            ThreePointArc((-25.56, 26.01), (-13.005, 13.455), (-0.45, 26.01))
        make_face()
        with Locations((-13.005, 26.01)):
            Circle(F0_R_2, mode=Mode.SUBTRACT)
        with BuildLine():
            ThreePointArc((-26.46, 26.01), (-47.8927256378, 34.8877256378), (-39.015, 13.455))
            ThreePointArc((-39.015, 13.455), (-30.1372743622, 17.1322743622), (-26.46, 26.01))
        make_face()
        with Locations((-39.015, 26.01)):
            Circle(F0_R_2, mode=Mode.SUBTRACT)
        with BuildLine():
            ThreePointArc((-39.015, 12.555), (-51.57, 0), (-39.015, -12.555))
            ThreePointArc((-39.015, -12.555), (-30.1372743622, -8.8777256378), (-26.46, 0))
            ThreePointArc((-26.46, 0), (-30.1372743622, 8.8777256378), (-39.015, 12.555))
        make_face()
        with Locations((-39.015, 0)):
            Circle(F0_R_2, mode=Mode.SUBTRACT)
        with Locations((13.005, 0)):
            Circle(F0_R)
        with Locations((13.005, 0)):
            Circle(F0_R_2, mode=Mode.SUBTRACT)
        with Locations((-13.005, 0)):
            Circle(F0_R)
        with Locations((-13.005, 0)):
            Circle(F0_R_2, mode=Mode.SUBTRACT)
        with Locations((-39.015, -26.01)):
            Circle(F0_R_2)
        with Locations((-13.005, 0)):
            Circle(F0_R_2)
        with Locations((13.005, 0)):
            Circle(F0_R_2)
        with Locations((-13.005, -26.01)):
            Circle(F0_R_2)
        with Locations((13.005, -26.01)):
            Circle(F0_R_2)
        with Locations((39.015, -26.01)):
            Circle(F0_R_2)
        with Locations((39.015, 0)):
            Circle(F0_R_2)
        with Locations((-39.015, 0)):
            Circle(F0_R_2)
        with Locations((-39.015, 26.01)):
            Circle(F0_R_2)
        with Locations((-13.005, 26.01)):
            Circle(F0_R_2)
        with Locations((13.005, 26.01)):
            Circle(F0_R_2)
        with Locations((39.015, 26.01)):
            Circle(F0_R_2)
    extrude(amount=F9_DEPTH, mode=Mode.SUBTRACT)


solid = f1.part
